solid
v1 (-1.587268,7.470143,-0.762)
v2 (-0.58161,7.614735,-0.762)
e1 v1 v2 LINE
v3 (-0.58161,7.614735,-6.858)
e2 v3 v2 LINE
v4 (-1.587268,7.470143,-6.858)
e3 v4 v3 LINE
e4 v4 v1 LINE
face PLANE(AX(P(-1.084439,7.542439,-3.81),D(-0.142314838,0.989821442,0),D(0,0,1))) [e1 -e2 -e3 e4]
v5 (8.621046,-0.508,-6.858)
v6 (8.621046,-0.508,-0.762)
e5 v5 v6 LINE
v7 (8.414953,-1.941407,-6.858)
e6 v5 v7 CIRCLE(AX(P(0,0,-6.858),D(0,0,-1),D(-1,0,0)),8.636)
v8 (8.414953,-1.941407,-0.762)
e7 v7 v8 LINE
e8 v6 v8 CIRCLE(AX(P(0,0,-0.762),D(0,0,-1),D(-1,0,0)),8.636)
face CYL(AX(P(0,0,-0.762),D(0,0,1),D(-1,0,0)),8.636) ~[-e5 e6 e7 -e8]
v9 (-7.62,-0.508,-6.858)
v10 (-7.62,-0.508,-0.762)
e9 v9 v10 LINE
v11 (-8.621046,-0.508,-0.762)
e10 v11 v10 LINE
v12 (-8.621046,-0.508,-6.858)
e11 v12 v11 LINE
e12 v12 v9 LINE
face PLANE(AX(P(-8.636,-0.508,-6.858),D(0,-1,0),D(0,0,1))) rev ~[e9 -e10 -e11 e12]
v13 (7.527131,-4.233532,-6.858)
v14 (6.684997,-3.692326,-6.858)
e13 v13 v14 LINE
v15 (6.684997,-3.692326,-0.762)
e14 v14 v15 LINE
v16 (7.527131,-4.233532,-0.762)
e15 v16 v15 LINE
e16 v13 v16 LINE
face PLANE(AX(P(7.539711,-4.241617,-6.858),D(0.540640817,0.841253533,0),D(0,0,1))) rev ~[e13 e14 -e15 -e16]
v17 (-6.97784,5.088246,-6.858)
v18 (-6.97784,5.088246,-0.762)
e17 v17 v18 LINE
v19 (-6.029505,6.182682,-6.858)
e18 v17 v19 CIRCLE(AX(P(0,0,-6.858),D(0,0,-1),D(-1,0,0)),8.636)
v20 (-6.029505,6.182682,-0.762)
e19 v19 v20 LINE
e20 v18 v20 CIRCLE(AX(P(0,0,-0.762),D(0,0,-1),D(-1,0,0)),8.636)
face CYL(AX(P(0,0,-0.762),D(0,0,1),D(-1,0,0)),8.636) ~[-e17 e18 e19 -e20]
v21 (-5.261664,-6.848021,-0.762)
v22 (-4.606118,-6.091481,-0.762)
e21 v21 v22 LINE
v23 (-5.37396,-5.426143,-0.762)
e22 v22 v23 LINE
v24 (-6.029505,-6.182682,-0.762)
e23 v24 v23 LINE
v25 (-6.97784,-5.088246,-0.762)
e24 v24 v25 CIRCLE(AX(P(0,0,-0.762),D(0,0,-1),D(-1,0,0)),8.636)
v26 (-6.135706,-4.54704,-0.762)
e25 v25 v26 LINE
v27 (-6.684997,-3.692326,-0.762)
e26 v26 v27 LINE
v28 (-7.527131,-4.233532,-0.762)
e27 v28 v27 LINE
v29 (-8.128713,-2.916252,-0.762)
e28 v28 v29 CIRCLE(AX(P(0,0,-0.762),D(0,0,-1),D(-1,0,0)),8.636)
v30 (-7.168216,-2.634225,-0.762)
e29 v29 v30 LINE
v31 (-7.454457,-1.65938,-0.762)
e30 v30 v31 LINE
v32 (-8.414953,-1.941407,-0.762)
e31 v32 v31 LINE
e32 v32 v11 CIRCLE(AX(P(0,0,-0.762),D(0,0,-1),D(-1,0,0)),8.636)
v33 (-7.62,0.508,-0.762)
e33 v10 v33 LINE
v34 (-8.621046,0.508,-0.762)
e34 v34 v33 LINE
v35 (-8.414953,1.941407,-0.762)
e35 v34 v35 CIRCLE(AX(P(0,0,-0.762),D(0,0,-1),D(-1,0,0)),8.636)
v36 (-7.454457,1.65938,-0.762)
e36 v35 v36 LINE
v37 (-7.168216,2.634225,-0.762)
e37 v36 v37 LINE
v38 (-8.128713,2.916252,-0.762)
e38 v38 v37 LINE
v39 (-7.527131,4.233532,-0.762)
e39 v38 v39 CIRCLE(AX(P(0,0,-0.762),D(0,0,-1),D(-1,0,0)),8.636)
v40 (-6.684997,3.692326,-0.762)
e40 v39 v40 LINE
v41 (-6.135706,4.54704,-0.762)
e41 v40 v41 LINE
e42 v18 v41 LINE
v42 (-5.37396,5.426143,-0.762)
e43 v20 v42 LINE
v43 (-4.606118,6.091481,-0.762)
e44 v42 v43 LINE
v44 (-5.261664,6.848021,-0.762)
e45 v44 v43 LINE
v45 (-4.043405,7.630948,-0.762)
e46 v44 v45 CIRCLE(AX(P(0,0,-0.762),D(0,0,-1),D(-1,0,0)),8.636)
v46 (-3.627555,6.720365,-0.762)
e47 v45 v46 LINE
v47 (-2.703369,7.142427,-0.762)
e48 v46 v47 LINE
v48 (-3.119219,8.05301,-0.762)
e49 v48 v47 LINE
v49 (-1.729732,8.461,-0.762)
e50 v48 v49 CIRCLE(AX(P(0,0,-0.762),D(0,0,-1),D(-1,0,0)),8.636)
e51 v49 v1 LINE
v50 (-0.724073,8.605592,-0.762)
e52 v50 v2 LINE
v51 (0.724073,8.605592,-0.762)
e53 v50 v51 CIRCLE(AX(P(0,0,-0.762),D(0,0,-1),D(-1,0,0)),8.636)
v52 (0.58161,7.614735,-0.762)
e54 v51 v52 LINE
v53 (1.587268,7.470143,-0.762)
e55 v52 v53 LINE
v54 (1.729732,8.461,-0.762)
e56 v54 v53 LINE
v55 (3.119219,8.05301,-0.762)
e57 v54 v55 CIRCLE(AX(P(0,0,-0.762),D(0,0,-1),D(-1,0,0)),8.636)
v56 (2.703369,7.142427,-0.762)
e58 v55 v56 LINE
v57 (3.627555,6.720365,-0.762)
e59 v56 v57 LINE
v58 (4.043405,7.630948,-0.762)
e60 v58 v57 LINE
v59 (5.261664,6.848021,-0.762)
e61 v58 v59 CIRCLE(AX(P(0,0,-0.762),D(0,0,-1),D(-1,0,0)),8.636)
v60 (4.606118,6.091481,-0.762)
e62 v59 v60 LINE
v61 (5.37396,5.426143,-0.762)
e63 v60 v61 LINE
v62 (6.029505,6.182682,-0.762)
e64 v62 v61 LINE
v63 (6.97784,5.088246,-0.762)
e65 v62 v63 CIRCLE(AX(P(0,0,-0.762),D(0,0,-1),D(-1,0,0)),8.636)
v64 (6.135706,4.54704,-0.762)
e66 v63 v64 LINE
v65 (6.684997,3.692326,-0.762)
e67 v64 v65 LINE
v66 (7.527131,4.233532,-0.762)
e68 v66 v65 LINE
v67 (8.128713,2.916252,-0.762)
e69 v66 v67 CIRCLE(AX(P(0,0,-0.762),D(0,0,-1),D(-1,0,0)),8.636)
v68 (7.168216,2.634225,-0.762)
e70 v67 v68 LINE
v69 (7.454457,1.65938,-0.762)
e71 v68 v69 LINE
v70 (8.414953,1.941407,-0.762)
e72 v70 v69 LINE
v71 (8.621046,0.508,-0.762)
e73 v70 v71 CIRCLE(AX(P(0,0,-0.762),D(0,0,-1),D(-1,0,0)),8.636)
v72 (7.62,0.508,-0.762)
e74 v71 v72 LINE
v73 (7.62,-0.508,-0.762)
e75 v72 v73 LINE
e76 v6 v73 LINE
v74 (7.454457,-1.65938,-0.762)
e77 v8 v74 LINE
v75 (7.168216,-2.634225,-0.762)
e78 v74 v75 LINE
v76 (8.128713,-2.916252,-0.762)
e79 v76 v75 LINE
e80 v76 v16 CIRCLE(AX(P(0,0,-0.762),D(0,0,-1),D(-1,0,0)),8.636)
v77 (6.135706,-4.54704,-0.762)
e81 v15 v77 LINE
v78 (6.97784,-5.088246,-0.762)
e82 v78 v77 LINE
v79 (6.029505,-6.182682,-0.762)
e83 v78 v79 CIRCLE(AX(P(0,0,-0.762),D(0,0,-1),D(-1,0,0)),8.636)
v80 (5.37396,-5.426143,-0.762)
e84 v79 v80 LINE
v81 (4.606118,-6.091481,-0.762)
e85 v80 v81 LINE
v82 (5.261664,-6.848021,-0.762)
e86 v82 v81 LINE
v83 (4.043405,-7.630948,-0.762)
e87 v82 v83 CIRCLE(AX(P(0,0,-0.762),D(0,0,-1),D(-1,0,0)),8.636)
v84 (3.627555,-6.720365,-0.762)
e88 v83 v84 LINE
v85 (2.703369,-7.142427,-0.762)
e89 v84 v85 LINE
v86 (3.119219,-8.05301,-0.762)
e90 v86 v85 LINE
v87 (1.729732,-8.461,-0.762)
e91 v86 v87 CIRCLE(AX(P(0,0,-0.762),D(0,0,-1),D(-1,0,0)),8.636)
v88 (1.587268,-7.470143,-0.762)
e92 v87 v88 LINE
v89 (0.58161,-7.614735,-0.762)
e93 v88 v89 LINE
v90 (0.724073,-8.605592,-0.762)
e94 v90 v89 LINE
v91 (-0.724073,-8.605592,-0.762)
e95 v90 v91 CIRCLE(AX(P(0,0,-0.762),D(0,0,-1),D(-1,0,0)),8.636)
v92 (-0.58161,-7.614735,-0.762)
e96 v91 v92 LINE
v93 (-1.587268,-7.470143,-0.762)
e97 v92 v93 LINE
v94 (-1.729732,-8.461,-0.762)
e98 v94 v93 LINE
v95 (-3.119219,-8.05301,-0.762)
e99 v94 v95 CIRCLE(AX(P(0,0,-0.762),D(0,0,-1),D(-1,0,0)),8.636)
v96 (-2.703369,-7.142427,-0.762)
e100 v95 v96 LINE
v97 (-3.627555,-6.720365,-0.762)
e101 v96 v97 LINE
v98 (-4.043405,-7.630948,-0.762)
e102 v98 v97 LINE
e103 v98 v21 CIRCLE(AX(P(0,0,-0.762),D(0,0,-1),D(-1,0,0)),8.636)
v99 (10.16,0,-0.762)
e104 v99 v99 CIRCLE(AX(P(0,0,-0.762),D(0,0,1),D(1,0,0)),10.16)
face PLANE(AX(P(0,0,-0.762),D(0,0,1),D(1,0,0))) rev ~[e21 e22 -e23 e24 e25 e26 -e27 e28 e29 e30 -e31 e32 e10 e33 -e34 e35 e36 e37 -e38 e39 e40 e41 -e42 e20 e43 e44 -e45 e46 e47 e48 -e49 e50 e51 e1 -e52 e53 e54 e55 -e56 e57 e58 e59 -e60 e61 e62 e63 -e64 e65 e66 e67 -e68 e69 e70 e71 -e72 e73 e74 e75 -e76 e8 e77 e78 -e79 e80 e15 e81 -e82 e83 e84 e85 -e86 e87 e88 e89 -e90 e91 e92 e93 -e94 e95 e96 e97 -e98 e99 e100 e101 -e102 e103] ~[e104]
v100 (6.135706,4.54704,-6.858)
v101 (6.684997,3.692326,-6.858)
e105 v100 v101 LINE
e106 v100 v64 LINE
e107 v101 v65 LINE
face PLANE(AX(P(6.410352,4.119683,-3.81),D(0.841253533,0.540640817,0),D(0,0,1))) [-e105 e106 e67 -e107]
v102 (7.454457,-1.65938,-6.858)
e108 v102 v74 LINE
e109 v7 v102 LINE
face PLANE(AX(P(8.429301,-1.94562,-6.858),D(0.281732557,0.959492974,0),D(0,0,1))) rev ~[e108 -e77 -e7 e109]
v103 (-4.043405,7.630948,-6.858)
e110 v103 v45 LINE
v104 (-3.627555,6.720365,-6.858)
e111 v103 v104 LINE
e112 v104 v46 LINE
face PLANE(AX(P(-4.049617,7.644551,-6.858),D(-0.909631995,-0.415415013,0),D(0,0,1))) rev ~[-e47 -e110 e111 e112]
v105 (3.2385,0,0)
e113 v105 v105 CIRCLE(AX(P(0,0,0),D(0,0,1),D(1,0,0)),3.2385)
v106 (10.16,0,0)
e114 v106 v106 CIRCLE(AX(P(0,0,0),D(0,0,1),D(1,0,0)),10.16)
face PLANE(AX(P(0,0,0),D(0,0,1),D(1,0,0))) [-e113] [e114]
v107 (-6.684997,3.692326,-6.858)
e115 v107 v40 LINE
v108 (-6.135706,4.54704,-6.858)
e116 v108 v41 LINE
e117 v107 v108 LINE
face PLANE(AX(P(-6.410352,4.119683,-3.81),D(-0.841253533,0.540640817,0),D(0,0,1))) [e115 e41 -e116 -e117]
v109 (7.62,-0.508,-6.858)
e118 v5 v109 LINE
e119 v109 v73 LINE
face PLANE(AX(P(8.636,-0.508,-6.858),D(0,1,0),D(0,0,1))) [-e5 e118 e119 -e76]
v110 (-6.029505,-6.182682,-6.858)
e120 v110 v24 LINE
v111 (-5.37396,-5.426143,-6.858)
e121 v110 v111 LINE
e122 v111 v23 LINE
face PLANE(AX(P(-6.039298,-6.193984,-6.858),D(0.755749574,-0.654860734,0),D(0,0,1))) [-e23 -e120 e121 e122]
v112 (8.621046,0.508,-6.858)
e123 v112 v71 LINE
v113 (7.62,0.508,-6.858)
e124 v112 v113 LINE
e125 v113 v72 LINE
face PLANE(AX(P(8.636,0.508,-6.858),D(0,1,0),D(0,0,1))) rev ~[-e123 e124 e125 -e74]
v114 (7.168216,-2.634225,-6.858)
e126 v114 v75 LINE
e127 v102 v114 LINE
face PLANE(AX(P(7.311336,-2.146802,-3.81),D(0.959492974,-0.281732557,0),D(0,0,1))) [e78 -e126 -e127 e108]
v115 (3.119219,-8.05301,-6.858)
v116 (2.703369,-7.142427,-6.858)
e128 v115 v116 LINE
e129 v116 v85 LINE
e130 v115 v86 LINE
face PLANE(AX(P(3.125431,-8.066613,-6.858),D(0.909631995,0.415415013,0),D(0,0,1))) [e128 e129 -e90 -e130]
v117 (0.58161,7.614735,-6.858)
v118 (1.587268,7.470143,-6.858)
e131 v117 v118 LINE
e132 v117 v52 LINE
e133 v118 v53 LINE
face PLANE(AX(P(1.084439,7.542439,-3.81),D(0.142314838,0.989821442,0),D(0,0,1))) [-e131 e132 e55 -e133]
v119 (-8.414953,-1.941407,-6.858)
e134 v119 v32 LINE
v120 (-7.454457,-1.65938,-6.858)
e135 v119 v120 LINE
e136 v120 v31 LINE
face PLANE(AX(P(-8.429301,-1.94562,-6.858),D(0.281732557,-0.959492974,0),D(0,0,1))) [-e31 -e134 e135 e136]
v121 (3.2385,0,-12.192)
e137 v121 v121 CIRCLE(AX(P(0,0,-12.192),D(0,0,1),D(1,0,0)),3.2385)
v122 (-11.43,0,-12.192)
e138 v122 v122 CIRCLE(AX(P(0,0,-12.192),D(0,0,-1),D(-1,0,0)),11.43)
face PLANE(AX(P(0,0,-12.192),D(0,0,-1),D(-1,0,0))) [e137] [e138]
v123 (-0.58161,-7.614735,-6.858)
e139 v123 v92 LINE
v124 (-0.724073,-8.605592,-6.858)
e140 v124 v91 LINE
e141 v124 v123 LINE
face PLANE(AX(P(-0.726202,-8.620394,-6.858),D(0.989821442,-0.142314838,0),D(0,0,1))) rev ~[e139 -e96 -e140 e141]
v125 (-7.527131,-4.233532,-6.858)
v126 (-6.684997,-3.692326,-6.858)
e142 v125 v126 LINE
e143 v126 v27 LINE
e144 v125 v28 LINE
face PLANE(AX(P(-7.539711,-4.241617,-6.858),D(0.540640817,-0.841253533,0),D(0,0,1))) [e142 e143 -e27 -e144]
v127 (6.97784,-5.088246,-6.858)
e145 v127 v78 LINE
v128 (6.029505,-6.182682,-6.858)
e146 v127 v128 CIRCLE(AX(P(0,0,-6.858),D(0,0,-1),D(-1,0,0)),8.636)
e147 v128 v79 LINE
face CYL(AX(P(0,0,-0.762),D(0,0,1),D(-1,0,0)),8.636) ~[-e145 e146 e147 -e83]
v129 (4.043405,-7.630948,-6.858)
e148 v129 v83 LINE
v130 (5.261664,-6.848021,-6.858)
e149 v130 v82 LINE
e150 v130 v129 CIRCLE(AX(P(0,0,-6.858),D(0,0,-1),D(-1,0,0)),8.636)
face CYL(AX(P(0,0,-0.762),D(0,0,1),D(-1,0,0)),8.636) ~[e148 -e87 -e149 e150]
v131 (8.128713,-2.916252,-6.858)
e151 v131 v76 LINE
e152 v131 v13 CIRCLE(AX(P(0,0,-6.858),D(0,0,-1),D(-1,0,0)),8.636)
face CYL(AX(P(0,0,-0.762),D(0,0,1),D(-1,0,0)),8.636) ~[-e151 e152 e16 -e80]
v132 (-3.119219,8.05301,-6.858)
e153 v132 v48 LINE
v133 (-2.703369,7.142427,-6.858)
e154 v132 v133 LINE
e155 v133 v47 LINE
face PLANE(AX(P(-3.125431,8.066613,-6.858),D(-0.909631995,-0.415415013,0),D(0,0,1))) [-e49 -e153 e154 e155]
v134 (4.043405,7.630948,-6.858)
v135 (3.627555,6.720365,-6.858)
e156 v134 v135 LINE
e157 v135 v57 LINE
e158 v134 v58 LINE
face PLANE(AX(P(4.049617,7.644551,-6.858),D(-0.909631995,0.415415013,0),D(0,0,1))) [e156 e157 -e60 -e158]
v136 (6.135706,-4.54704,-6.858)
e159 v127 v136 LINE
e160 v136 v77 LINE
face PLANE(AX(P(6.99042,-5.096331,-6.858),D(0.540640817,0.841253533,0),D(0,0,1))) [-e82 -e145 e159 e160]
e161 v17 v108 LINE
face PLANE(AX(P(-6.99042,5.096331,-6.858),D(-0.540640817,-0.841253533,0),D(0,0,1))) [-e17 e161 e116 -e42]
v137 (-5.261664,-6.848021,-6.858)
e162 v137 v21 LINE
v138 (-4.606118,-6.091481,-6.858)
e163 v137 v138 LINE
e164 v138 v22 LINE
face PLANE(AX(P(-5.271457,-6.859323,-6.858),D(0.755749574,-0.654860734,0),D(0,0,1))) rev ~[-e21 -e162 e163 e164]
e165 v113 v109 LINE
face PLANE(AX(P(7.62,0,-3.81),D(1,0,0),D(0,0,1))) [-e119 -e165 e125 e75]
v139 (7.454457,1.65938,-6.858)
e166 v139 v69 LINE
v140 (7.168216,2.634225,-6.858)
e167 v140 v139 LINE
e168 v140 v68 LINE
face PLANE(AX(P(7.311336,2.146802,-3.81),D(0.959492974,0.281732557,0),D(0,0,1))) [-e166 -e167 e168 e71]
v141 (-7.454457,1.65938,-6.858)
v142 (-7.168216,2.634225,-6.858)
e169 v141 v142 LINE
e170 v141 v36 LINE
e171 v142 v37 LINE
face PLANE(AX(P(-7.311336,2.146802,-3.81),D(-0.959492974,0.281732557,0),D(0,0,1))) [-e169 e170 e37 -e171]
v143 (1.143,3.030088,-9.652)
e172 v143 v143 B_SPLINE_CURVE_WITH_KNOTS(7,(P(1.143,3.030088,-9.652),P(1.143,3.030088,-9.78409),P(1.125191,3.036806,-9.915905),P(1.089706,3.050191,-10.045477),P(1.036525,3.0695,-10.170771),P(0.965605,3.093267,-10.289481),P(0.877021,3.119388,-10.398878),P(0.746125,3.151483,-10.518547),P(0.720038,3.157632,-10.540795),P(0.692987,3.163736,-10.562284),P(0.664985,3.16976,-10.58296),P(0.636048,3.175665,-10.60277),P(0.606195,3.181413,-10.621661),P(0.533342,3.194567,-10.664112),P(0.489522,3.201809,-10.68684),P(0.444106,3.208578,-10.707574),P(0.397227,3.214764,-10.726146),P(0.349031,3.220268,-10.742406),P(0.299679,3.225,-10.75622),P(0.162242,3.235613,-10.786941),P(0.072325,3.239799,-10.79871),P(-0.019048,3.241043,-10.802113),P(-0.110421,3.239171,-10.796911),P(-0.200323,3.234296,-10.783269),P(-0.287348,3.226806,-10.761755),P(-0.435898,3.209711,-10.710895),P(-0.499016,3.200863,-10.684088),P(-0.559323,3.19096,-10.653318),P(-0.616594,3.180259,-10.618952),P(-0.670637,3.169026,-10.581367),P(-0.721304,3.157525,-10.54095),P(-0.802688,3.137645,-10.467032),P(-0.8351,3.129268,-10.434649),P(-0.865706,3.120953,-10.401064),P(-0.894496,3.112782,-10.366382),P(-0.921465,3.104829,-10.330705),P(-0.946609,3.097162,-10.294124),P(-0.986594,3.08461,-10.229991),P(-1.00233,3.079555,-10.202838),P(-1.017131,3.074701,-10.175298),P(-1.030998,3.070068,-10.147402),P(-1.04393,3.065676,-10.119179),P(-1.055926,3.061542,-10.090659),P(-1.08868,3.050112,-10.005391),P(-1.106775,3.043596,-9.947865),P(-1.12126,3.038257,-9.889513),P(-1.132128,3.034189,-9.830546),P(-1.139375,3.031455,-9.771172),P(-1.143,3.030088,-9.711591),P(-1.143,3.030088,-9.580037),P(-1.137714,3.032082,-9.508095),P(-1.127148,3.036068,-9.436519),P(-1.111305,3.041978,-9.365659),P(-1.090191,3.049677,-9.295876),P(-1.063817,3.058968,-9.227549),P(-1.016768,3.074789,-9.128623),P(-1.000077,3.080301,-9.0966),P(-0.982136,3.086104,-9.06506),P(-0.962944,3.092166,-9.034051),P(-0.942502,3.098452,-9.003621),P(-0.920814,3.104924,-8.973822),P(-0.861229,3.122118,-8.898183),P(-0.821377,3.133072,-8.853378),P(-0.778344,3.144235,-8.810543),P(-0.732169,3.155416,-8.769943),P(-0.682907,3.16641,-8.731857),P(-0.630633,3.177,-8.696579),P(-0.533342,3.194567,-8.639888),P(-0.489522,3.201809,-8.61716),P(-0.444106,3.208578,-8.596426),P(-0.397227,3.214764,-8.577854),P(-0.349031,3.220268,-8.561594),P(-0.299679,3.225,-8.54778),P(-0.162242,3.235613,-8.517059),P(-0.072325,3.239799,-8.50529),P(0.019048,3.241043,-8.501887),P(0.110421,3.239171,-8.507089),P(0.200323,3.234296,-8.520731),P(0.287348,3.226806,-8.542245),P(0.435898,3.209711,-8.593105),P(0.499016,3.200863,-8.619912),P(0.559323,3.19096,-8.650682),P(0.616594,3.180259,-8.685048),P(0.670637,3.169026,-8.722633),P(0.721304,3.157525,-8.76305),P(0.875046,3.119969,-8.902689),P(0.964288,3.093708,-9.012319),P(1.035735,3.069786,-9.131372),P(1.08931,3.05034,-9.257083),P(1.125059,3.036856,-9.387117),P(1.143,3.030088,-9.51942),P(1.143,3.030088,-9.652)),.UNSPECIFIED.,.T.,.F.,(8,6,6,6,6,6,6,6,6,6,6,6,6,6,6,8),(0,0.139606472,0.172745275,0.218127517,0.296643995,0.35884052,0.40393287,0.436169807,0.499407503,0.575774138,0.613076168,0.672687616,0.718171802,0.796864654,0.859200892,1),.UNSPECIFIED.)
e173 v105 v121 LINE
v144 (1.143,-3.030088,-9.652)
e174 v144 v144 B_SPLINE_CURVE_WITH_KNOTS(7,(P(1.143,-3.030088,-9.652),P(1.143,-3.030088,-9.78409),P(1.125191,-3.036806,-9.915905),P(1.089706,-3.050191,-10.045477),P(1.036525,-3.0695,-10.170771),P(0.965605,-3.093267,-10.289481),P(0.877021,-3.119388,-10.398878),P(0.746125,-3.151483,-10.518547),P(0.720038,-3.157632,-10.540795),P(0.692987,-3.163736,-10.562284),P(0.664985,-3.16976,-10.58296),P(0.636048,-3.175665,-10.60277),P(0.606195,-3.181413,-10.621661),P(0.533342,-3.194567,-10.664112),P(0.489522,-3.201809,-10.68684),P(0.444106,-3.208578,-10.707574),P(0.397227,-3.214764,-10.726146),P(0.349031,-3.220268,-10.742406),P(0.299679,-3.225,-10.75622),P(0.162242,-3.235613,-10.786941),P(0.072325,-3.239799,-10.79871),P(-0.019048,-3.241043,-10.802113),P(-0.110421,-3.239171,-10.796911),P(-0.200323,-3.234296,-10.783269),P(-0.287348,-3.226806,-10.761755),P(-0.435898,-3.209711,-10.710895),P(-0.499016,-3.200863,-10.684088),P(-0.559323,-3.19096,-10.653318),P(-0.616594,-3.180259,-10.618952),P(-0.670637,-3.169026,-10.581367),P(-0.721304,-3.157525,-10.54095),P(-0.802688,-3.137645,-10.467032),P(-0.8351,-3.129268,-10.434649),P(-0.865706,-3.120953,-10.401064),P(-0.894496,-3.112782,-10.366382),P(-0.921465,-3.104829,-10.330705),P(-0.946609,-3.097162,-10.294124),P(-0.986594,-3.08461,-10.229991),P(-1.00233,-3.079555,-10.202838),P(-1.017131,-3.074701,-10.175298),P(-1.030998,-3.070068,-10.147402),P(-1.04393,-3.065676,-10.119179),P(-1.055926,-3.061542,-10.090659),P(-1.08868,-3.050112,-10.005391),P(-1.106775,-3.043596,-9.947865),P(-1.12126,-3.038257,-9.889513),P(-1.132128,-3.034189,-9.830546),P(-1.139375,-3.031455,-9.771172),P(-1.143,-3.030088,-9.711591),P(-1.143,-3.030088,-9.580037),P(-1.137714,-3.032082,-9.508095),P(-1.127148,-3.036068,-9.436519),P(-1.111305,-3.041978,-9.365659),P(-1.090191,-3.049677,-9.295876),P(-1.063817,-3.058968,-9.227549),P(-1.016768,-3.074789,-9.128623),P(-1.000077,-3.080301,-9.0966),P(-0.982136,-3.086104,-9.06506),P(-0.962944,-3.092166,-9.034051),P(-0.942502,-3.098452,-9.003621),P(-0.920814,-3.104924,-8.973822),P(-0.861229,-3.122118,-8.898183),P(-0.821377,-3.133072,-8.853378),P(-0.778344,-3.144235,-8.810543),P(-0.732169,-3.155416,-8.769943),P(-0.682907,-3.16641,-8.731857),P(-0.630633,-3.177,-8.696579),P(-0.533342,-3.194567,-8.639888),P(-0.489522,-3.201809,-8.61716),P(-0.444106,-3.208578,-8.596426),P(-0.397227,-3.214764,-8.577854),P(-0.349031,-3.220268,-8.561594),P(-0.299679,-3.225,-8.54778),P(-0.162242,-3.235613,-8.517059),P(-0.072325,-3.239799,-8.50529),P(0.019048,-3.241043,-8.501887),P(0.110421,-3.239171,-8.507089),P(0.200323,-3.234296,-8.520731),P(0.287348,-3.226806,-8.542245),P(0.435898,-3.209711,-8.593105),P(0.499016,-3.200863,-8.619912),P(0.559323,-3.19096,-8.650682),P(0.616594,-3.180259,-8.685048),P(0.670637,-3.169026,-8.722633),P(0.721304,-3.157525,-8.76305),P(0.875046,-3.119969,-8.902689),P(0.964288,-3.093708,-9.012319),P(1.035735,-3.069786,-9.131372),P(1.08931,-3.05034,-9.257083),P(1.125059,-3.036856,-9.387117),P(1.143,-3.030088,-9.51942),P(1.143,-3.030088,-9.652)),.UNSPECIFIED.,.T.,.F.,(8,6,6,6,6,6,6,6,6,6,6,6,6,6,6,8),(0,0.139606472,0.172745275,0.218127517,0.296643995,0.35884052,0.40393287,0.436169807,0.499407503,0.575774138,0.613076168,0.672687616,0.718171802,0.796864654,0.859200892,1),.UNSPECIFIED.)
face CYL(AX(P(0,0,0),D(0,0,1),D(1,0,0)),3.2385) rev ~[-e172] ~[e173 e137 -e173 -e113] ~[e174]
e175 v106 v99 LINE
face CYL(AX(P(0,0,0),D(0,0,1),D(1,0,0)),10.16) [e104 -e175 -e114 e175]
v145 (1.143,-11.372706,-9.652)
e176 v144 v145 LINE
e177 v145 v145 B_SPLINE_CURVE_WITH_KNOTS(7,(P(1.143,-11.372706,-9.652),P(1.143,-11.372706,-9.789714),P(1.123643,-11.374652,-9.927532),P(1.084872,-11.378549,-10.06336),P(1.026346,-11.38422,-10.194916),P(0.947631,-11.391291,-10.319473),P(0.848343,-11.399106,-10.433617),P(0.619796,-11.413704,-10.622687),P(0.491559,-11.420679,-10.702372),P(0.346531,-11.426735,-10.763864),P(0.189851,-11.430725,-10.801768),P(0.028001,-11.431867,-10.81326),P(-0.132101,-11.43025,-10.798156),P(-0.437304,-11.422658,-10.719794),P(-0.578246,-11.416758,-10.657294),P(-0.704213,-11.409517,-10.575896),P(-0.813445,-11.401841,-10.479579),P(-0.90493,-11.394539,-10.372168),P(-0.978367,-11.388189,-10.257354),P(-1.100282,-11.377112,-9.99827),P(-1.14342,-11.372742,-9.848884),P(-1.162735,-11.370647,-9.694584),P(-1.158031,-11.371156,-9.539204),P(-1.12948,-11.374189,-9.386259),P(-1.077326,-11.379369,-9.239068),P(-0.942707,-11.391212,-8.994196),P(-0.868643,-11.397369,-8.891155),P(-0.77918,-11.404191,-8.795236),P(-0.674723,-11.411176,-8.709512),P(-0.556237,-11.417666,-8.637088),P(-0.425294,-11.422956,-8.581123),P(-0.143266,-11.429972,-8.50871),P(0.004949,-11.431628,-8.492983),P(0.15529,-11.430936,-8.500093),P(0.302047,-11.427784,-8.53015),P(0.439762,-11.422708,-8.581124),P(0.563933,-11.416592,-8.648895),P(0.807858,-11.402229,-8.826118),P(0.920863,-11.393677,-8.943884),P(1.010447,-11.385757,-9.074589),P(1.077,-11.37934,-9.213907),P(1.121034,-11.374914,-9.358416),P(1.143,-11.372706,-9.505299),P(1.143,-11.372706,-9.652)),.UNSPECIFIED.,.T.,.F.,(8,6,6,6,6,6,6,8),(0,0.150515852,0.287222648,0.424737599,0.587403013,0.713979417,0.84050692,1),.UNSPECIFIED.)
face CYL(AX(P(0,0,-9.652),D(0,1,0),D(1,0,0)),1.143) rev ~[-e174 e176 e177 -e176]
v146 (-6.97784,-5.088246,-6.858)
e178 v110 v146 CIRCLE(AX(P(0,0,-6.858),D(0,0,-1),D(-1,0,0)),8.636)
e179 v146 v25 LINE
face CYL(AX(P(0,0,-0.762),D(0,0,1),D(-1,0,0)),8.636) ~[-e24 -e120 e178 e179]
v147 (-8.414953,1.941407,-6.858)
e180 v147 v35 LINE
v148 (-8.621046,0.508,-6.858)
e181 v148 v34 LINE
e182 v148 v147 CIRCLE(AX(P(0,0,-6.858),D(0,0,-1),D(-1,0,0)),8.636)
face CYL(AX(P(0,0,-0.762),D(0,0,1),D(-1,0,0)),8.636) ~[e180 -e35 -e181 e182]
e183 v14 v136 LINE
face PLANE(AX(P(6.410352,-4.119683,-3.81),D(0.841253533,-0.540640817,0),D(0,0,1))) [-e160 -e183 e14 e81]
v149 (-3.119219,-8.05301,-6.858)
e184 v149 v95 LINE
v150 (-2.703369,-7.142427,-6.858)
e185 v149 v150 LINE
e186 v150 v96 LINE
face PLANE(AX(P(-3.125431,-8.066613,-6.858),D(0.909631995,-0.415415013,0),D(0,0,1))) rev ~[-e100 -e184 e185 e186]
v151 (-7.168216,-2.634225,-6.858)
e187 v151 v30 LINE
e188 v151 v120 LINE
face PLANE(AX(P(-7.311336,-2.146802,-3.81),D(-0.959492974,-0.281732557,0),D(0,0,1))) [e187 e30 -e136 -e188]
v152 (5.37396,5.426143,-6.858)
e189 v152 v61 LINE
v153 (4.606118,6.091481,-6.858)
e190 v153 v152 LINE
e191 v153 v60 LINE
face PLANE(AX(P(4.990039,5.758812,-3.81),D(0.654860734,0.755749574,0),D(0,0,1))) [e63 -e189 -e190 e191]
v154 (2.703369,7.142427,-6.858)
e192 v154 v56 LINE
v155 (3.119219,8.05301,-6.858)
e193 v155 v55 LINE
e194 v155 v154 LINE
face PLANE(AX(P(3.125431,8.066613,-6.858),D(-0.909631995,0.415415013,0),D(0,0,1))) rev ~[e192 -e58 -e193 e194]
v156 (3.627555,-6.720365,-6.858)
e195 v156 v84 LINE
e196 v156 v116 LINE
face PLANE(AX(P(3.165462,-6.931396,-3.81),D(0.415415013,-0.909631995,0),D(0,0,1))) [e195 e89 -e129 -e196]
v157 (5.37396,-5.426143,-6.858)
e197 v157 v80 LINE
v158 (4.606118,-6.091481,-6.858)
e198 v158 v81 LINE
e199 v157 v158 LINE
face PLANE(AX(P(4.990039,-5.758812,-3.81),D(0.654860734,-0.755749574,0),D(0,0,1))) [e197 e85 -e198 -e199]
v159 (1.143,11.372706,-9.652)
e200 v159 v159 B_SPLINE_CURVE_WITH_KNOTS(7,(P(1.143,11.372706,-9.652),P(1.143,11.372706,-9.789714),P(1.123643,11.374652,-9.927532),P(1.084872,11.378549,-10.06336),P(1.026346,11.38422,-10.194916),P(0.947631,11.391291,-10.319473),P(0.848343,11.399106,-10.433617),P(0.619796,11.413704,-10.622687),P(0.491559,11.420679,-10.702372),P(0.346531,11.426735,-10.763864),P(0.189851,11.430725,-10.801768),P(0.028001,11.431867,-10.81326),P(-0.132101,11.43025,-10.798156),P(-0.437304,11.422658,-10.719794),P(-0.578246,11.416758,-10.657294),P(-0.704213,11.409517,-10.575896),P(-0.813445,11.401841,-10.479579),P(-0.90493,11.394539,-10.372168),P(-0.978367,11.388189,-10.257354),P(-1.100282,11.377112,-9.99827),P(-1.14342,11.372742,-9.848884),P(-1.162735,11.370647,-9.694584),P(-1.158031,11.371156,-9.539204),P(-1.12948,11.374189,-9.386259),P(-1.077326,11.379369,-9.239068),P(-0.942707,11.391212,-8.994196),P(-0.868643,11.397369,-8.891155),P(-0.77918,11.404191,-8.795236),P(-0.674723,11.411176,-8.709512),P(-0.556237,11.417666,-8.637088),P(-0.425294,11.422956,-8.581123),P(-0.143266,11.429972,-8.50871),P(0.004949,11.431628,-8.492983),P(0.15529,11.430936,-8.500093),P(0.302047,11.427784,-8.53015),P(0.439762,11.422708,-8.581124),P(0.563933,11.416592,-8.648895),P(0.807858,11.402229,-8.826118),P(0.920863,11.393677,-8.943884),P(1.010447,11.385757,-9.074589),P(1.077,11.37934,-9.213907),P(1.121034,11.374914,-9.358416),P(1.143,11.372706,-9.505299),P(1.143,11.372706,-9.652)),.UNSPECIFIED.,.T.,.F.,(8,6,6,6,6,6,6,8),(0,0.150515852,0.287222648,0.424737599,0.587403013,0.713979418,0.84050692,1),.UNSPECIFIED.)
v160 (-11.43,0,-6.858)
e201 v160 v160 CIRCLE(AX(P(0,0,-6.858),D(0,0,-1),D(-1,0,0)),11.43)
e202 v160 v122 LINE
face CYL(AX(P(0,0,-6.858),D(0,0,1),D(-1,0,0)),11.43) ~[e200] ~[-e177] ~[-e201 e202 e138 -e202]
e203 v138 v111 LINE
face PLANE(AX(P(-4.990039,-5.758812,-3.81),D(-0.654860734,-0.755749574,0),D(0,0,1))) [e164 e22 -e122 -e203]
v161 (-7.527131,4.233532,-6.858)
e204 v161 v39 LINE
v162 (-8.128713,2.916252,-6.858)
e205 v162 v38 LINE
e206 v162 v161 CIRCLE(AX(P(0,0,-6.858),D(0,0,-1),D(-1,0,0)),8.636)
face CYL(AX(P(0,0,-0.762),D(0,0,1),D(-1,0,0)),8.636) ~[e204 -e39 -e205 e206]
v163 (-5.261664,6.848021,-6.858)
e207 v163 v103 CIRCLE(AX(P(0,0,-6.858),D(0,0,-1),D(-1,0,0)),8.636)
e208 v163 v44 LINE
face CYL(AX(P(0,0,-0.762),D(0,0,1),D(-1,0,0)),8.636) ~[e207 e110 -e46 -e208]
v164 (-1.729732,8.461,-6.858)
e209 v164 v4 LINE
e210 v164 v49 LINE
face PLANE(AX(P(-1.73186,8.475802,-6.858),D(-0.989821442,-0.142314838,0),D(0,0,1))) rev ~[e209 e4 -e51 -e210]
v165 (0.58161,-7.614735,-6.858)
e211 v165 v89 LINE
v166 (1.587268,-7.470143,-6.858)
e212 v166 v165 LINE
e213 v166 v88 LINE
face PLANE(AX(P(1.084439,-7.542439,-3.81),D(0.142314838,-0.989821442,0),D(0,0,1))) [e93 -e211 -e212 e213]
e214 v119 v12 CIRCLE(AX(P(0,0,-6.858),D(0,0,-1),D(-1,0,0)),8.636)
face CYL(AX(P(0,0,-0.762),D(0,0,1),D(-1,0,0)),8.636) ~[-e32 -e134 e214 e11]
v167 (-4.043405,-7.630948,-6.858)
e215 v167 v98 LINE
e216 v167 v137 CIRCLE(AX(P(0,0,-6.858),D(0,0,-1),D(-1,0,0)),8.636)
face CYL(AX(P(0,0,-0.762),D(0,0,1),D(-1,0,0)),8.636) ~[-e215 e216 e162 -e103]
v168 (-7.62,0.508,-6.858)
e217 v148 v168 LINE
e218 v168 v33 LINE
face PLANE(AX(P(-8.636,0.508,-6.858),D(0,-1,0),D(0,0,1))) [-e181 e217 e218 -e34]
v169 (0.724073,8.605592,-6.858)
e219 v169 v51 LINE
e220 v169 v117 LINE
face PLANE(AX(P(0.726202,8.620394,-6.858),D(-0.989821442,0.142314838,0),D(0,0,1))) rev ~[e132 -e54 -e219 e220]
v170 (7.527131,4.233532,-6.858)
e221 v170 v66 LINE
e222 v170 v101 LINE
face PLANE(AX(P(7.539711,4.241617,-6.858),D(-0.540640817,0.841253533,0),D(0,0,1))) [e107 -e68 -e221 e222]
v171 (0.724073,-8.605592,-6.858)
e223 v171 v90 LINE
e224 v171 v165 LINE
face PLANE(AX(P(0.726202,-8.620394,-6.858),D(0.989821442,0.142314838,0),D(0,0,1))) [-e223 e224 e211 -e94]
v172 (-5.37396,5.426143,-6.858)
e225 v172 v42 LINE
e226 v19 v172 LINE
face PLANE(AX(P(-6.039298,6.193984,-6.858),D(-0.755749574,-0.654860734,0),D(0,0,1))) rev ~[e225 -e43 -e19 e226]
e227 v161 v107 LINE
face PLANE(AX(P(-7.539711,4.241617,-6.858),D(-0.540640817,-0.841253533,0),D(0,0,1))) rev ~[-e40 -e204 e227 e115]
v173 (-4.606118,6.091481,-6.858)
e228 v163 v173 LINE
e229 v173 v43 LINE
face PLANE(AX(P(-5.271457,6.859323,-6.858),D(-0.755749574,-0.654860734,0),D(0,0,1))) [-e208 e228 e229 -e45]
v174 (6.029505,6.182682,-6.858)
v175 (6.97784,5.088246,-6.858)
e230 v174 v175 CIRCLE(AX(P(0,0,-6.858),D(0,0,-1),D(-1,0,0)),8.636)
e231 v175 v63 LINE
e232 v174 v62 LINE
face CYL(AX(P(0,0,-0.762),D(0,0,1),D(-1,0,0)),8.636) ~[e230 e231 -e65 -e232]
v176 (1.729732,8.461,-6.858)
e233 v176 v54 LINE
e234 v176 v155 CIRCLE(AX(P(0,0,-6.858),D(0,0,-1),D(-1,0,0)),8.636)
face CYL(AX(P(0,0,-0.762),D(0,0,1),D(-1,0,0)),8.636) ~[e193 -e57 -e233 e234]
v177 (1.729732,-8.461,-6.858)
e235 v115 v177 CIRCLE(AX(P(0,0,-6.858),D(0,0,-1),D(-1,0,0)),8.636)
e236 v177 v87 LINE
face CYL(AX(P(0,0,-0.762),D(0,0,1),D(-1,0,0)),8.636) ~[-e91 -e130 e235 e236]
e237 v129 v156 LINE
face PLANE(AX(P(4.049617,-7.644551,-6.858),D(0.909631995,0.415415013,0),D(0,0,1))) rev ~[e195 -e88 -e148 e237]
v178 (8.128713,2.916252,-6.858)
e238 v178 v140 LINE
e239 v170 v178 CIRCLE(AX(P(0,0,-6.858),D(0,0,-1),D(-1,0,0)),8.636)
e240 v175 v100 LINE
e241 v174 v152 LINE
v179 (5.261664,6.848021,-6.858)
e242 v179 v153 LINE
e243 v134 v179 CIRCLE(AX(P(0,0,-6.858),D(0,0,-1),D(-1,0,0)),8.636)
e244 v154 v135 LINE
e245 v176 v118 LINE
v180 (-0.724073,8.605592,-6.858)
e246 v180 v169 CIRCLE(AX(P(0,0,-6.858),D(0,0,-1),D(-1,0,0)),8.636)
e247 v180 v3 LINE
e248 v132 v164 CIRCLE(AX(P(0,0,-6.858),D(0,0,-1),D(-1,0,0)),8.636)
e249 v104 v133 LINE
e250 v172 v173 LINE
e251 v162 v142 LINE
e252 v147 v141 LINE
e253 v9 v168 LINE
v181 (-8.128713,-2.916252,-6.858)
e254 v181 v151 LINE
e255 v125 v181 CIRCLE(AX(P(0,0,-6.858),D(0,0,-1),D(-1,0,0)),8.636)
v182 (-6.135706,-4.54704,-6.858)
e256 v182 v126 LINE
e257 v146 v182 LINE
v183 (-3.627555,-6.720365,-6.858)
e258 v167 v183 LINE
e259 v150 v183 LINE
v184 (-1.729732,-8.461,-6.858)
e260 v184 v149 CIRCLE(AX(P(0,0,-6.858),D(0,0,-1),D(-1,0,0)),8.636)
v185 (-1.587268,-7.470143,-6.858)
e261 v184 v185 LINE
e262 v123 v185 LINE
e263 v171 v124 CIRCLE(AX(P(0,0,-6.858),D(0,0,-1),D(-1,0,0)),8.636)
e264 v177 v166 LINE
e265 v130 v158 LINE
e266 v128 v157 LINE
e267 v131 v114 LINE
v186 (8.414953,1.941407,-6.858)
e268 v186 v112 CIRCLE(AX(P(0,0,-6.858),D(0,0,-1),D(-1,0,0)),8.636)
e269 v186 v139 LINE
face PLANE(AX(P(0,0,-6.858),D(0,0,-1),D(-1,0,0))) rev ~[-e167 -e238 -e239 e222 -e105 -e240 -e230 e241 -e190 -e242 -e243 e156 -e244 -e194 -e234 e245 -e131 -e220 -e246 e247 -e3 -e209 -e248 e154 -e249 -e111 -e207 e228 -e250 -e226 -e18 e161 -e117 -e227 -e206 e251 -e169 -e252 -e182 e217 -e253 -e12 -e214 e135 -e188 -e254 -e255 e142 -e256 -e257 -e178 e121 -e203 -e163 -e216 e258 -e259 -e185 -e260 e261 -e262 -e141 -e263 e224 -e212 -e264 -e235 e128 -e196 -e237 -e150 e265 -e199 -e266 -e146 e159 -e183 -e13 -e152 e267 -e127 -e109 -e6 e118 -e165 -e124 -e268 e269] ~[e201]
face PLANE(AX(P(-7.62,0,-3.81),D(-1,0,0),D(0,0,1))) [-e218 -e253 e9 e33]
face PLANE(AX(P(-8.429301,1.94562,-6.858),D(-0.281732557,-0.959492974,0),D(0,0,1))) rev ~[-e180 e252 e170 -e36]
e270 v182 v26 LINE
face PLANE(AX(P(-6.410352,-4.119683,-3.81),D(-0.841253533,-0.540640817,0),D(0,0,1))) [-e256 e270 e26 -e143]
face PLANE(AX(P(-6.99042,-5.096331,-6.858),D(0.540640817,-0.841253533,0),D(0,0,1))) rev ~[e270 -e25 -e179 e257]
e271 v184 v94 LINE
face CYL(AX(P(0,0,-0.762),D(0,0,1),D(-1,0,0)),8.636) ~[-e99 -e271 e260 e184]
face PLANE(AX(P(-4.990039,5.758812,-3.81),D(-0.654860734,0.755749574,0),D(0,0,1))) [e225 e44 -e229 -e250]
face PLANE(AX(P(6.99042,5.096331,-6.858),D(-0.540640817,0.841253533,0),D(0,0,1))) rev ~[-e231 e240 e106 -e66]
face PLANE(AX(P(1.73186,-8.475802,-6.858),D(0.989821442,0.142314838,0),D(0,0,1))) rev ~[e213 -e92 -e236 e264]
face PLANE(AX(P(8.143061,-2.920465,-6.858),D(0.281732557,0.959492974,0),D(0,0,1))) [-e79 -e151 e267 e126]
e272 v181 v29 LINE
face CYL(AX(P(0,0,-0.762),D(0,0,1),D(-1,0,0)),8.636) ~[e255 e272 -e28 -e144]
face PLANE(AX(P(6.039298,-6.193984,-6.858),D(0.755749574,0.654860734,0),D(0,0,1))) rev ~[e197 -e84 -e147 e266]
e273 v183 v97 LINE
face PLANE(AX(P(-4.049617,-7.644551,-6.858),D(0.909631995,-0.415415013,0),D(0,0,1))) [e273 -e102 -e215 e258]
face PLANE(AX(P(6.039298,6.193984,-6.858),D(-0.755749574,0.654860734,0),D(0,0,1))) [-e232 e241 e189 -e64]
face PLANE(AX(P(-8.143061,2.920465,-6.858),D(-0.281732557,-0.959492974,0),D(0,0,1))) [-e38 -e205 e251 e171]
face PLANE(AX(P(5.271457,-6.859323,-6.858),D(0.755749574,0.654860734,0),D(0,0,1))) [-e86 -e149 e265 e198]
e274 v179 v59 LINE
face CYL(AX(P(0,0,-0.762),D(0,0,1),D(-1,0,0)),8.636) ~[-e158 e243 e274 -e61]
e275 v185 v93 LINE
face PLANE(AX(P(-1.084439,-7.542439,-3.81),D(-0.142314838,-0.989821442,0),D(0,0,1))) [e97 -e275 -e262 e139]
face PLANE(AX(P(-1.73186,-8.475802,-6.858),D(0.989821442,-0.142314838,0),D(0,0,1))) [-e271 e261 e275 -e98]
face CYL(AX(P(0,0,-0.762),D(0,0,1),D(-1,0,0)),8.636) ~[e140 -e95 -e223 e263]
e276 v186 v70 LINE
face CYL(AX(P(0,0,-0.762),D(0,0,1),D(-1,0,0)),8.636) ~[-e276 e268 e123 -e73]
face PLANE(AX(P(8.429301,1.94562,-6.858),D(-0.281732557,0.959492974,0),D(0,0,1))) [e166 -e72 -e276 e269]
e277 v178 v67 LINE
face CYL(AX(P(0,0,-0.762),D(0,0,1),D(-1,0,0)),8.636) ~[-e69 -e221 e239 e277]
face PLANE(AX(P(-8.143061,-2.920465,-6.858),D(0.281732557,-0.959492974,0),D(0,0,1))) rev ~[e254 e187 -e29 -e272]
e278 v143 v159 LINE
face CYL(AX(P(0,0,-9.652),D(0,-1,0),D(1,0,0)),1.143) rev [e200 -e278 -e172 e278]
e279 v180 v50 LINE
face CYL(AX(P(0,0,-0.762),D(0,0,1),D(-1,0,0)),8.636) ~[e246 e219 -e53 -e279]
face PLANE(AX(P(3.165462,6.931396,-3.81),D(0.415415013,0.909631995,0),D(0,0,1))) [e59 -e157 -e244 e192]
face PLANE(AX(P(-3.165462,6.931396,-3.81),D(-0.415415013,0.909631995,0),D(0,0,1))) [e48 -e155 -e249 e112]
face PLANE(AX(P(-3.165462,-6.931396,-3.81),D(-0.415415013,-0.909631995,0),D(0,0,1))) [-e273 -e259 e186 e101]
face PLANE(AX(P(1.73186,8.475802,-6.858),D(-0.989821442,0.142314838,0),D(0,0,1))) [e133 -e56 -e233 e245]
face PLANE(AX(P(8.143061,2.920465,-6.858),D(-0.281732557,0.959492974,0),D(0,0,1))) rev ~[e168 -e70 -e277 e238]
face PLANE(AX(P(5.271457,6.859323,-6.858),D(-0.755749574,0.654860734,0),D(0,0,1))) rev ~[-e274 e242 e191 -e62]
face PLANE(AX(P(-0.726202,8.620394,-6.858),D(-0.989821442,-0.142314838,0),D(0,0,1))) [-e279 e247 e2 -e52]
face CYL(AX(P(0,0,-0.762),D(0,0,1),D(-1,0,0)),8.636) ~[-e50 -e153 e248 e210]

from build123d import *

# Parameters (mm, degrees)
SKETCH1_R               = 10.16
BOSS_EXTRUDE1_DEPTH     = 0.762
SKETCH2_R               = 8.636
BOSS_EXTRUDE2_DEPTH     = 6.096
SKETCH3_R               = 11.43
BOSS_EXTRUDE3_DEPTH     = 5.334
SKETCH4_R               = 3.2385
CUT_EXTRUDE1_DEPTH      = 25.654
SKETCH5_W               = 6.096
SKETCH5_H               = 1.016
CUT_EXTRUDE2_DEPTH      = 1.016
CIRPATTERN1_COUNT       = 22
CUT_EXTRUDE3_DEPTH      = 22.098
CUT_EXTRUDE3_DEPTH_BACK = 22.098
SKETCH6_R               = 1.143


with BuildPart() as part:
    # Sketch1 → Boss-Extrude1 (new body)
    with BuildSketch(Plane.XY):
        Circle(SKETCH1_R)
    extrude(amount=-BOSS_EXTRUDE1_DEPTH)

    # Sketch2 → Boss-Extrude2 (add)
    with BuildSketch(Plane(origin=(0, 0, -0.762), x_dir=(-1, 0, 0), z_dir=(0, 0, -1))):
        Circle(SKETCH2_R)
    extrude(amount=BOSS_EXTRUDE2_DEPTH)

    # Sketch3 → Boss-Extrude3 (add)
    with BuildSketch(Plane(origin=(0, 0, -6.858), x_dir=(-1, 0, 0), z_dir=(0, 0, -1))):
        Circle(SKETCH3_R)
    extrude(amount=BOSS_EXTRUDE3_DEPTH)

    # Sketch4 → Cut-Extrude1 (cut)
    with BuildSketch(Plane.XY):
        Circle(SKETCH4_R)
    extrude(amount=-CUT_EXTRUDE1_DEPTH, mode=Mode.SUBTRACT)

    # Sketch5 → Cut-Extrude2 (cut)
    with BuildSketch(Plane.ZY.offset(8.636)):
        with Locations((-3.81, 0)):
            Rectangle(SKETCH5_W, SKETCH5_H)
    cut_extrude2 = extrude(amount=-CUT_EXTRUDE2_DEPTH, mode=Mode.SUBTRACT)

    # CirPattern1: Cut-Extrude2 ×22 about axis
    cirpattern1_axis = Axis((0, 0, -12.192), (0, 0, 1))
    for i in range(1, CIRPATTERN1_COUNT):
        add(cut_extrude2.rotate(cirpattern1_axis, i * 360 / CIRPATTERN1_COUNT), mode=Mode.SUBTRACT)

    # Sketch6 → Cut-Extrude3 (cut, two sides: drawn at the far end of the back side and taken through both)
    with BuildSketch(Plane(origin=(0, 0, 0), x_dir=(1, 0, 0), z_dir=(0, 1, 0)).offset(-CUT_EXTRUDE3_DEPTH_BACK)):
        with Locations((0, 9.652)):
            Circle(SKETCH6_R)
    extrude(amount=CUT_EXTRUDE3_DEPTH + CUT_EXTRUDE3_DEPTH_BACK, mode=Mode.SUBTRACT)


solid = part.part
